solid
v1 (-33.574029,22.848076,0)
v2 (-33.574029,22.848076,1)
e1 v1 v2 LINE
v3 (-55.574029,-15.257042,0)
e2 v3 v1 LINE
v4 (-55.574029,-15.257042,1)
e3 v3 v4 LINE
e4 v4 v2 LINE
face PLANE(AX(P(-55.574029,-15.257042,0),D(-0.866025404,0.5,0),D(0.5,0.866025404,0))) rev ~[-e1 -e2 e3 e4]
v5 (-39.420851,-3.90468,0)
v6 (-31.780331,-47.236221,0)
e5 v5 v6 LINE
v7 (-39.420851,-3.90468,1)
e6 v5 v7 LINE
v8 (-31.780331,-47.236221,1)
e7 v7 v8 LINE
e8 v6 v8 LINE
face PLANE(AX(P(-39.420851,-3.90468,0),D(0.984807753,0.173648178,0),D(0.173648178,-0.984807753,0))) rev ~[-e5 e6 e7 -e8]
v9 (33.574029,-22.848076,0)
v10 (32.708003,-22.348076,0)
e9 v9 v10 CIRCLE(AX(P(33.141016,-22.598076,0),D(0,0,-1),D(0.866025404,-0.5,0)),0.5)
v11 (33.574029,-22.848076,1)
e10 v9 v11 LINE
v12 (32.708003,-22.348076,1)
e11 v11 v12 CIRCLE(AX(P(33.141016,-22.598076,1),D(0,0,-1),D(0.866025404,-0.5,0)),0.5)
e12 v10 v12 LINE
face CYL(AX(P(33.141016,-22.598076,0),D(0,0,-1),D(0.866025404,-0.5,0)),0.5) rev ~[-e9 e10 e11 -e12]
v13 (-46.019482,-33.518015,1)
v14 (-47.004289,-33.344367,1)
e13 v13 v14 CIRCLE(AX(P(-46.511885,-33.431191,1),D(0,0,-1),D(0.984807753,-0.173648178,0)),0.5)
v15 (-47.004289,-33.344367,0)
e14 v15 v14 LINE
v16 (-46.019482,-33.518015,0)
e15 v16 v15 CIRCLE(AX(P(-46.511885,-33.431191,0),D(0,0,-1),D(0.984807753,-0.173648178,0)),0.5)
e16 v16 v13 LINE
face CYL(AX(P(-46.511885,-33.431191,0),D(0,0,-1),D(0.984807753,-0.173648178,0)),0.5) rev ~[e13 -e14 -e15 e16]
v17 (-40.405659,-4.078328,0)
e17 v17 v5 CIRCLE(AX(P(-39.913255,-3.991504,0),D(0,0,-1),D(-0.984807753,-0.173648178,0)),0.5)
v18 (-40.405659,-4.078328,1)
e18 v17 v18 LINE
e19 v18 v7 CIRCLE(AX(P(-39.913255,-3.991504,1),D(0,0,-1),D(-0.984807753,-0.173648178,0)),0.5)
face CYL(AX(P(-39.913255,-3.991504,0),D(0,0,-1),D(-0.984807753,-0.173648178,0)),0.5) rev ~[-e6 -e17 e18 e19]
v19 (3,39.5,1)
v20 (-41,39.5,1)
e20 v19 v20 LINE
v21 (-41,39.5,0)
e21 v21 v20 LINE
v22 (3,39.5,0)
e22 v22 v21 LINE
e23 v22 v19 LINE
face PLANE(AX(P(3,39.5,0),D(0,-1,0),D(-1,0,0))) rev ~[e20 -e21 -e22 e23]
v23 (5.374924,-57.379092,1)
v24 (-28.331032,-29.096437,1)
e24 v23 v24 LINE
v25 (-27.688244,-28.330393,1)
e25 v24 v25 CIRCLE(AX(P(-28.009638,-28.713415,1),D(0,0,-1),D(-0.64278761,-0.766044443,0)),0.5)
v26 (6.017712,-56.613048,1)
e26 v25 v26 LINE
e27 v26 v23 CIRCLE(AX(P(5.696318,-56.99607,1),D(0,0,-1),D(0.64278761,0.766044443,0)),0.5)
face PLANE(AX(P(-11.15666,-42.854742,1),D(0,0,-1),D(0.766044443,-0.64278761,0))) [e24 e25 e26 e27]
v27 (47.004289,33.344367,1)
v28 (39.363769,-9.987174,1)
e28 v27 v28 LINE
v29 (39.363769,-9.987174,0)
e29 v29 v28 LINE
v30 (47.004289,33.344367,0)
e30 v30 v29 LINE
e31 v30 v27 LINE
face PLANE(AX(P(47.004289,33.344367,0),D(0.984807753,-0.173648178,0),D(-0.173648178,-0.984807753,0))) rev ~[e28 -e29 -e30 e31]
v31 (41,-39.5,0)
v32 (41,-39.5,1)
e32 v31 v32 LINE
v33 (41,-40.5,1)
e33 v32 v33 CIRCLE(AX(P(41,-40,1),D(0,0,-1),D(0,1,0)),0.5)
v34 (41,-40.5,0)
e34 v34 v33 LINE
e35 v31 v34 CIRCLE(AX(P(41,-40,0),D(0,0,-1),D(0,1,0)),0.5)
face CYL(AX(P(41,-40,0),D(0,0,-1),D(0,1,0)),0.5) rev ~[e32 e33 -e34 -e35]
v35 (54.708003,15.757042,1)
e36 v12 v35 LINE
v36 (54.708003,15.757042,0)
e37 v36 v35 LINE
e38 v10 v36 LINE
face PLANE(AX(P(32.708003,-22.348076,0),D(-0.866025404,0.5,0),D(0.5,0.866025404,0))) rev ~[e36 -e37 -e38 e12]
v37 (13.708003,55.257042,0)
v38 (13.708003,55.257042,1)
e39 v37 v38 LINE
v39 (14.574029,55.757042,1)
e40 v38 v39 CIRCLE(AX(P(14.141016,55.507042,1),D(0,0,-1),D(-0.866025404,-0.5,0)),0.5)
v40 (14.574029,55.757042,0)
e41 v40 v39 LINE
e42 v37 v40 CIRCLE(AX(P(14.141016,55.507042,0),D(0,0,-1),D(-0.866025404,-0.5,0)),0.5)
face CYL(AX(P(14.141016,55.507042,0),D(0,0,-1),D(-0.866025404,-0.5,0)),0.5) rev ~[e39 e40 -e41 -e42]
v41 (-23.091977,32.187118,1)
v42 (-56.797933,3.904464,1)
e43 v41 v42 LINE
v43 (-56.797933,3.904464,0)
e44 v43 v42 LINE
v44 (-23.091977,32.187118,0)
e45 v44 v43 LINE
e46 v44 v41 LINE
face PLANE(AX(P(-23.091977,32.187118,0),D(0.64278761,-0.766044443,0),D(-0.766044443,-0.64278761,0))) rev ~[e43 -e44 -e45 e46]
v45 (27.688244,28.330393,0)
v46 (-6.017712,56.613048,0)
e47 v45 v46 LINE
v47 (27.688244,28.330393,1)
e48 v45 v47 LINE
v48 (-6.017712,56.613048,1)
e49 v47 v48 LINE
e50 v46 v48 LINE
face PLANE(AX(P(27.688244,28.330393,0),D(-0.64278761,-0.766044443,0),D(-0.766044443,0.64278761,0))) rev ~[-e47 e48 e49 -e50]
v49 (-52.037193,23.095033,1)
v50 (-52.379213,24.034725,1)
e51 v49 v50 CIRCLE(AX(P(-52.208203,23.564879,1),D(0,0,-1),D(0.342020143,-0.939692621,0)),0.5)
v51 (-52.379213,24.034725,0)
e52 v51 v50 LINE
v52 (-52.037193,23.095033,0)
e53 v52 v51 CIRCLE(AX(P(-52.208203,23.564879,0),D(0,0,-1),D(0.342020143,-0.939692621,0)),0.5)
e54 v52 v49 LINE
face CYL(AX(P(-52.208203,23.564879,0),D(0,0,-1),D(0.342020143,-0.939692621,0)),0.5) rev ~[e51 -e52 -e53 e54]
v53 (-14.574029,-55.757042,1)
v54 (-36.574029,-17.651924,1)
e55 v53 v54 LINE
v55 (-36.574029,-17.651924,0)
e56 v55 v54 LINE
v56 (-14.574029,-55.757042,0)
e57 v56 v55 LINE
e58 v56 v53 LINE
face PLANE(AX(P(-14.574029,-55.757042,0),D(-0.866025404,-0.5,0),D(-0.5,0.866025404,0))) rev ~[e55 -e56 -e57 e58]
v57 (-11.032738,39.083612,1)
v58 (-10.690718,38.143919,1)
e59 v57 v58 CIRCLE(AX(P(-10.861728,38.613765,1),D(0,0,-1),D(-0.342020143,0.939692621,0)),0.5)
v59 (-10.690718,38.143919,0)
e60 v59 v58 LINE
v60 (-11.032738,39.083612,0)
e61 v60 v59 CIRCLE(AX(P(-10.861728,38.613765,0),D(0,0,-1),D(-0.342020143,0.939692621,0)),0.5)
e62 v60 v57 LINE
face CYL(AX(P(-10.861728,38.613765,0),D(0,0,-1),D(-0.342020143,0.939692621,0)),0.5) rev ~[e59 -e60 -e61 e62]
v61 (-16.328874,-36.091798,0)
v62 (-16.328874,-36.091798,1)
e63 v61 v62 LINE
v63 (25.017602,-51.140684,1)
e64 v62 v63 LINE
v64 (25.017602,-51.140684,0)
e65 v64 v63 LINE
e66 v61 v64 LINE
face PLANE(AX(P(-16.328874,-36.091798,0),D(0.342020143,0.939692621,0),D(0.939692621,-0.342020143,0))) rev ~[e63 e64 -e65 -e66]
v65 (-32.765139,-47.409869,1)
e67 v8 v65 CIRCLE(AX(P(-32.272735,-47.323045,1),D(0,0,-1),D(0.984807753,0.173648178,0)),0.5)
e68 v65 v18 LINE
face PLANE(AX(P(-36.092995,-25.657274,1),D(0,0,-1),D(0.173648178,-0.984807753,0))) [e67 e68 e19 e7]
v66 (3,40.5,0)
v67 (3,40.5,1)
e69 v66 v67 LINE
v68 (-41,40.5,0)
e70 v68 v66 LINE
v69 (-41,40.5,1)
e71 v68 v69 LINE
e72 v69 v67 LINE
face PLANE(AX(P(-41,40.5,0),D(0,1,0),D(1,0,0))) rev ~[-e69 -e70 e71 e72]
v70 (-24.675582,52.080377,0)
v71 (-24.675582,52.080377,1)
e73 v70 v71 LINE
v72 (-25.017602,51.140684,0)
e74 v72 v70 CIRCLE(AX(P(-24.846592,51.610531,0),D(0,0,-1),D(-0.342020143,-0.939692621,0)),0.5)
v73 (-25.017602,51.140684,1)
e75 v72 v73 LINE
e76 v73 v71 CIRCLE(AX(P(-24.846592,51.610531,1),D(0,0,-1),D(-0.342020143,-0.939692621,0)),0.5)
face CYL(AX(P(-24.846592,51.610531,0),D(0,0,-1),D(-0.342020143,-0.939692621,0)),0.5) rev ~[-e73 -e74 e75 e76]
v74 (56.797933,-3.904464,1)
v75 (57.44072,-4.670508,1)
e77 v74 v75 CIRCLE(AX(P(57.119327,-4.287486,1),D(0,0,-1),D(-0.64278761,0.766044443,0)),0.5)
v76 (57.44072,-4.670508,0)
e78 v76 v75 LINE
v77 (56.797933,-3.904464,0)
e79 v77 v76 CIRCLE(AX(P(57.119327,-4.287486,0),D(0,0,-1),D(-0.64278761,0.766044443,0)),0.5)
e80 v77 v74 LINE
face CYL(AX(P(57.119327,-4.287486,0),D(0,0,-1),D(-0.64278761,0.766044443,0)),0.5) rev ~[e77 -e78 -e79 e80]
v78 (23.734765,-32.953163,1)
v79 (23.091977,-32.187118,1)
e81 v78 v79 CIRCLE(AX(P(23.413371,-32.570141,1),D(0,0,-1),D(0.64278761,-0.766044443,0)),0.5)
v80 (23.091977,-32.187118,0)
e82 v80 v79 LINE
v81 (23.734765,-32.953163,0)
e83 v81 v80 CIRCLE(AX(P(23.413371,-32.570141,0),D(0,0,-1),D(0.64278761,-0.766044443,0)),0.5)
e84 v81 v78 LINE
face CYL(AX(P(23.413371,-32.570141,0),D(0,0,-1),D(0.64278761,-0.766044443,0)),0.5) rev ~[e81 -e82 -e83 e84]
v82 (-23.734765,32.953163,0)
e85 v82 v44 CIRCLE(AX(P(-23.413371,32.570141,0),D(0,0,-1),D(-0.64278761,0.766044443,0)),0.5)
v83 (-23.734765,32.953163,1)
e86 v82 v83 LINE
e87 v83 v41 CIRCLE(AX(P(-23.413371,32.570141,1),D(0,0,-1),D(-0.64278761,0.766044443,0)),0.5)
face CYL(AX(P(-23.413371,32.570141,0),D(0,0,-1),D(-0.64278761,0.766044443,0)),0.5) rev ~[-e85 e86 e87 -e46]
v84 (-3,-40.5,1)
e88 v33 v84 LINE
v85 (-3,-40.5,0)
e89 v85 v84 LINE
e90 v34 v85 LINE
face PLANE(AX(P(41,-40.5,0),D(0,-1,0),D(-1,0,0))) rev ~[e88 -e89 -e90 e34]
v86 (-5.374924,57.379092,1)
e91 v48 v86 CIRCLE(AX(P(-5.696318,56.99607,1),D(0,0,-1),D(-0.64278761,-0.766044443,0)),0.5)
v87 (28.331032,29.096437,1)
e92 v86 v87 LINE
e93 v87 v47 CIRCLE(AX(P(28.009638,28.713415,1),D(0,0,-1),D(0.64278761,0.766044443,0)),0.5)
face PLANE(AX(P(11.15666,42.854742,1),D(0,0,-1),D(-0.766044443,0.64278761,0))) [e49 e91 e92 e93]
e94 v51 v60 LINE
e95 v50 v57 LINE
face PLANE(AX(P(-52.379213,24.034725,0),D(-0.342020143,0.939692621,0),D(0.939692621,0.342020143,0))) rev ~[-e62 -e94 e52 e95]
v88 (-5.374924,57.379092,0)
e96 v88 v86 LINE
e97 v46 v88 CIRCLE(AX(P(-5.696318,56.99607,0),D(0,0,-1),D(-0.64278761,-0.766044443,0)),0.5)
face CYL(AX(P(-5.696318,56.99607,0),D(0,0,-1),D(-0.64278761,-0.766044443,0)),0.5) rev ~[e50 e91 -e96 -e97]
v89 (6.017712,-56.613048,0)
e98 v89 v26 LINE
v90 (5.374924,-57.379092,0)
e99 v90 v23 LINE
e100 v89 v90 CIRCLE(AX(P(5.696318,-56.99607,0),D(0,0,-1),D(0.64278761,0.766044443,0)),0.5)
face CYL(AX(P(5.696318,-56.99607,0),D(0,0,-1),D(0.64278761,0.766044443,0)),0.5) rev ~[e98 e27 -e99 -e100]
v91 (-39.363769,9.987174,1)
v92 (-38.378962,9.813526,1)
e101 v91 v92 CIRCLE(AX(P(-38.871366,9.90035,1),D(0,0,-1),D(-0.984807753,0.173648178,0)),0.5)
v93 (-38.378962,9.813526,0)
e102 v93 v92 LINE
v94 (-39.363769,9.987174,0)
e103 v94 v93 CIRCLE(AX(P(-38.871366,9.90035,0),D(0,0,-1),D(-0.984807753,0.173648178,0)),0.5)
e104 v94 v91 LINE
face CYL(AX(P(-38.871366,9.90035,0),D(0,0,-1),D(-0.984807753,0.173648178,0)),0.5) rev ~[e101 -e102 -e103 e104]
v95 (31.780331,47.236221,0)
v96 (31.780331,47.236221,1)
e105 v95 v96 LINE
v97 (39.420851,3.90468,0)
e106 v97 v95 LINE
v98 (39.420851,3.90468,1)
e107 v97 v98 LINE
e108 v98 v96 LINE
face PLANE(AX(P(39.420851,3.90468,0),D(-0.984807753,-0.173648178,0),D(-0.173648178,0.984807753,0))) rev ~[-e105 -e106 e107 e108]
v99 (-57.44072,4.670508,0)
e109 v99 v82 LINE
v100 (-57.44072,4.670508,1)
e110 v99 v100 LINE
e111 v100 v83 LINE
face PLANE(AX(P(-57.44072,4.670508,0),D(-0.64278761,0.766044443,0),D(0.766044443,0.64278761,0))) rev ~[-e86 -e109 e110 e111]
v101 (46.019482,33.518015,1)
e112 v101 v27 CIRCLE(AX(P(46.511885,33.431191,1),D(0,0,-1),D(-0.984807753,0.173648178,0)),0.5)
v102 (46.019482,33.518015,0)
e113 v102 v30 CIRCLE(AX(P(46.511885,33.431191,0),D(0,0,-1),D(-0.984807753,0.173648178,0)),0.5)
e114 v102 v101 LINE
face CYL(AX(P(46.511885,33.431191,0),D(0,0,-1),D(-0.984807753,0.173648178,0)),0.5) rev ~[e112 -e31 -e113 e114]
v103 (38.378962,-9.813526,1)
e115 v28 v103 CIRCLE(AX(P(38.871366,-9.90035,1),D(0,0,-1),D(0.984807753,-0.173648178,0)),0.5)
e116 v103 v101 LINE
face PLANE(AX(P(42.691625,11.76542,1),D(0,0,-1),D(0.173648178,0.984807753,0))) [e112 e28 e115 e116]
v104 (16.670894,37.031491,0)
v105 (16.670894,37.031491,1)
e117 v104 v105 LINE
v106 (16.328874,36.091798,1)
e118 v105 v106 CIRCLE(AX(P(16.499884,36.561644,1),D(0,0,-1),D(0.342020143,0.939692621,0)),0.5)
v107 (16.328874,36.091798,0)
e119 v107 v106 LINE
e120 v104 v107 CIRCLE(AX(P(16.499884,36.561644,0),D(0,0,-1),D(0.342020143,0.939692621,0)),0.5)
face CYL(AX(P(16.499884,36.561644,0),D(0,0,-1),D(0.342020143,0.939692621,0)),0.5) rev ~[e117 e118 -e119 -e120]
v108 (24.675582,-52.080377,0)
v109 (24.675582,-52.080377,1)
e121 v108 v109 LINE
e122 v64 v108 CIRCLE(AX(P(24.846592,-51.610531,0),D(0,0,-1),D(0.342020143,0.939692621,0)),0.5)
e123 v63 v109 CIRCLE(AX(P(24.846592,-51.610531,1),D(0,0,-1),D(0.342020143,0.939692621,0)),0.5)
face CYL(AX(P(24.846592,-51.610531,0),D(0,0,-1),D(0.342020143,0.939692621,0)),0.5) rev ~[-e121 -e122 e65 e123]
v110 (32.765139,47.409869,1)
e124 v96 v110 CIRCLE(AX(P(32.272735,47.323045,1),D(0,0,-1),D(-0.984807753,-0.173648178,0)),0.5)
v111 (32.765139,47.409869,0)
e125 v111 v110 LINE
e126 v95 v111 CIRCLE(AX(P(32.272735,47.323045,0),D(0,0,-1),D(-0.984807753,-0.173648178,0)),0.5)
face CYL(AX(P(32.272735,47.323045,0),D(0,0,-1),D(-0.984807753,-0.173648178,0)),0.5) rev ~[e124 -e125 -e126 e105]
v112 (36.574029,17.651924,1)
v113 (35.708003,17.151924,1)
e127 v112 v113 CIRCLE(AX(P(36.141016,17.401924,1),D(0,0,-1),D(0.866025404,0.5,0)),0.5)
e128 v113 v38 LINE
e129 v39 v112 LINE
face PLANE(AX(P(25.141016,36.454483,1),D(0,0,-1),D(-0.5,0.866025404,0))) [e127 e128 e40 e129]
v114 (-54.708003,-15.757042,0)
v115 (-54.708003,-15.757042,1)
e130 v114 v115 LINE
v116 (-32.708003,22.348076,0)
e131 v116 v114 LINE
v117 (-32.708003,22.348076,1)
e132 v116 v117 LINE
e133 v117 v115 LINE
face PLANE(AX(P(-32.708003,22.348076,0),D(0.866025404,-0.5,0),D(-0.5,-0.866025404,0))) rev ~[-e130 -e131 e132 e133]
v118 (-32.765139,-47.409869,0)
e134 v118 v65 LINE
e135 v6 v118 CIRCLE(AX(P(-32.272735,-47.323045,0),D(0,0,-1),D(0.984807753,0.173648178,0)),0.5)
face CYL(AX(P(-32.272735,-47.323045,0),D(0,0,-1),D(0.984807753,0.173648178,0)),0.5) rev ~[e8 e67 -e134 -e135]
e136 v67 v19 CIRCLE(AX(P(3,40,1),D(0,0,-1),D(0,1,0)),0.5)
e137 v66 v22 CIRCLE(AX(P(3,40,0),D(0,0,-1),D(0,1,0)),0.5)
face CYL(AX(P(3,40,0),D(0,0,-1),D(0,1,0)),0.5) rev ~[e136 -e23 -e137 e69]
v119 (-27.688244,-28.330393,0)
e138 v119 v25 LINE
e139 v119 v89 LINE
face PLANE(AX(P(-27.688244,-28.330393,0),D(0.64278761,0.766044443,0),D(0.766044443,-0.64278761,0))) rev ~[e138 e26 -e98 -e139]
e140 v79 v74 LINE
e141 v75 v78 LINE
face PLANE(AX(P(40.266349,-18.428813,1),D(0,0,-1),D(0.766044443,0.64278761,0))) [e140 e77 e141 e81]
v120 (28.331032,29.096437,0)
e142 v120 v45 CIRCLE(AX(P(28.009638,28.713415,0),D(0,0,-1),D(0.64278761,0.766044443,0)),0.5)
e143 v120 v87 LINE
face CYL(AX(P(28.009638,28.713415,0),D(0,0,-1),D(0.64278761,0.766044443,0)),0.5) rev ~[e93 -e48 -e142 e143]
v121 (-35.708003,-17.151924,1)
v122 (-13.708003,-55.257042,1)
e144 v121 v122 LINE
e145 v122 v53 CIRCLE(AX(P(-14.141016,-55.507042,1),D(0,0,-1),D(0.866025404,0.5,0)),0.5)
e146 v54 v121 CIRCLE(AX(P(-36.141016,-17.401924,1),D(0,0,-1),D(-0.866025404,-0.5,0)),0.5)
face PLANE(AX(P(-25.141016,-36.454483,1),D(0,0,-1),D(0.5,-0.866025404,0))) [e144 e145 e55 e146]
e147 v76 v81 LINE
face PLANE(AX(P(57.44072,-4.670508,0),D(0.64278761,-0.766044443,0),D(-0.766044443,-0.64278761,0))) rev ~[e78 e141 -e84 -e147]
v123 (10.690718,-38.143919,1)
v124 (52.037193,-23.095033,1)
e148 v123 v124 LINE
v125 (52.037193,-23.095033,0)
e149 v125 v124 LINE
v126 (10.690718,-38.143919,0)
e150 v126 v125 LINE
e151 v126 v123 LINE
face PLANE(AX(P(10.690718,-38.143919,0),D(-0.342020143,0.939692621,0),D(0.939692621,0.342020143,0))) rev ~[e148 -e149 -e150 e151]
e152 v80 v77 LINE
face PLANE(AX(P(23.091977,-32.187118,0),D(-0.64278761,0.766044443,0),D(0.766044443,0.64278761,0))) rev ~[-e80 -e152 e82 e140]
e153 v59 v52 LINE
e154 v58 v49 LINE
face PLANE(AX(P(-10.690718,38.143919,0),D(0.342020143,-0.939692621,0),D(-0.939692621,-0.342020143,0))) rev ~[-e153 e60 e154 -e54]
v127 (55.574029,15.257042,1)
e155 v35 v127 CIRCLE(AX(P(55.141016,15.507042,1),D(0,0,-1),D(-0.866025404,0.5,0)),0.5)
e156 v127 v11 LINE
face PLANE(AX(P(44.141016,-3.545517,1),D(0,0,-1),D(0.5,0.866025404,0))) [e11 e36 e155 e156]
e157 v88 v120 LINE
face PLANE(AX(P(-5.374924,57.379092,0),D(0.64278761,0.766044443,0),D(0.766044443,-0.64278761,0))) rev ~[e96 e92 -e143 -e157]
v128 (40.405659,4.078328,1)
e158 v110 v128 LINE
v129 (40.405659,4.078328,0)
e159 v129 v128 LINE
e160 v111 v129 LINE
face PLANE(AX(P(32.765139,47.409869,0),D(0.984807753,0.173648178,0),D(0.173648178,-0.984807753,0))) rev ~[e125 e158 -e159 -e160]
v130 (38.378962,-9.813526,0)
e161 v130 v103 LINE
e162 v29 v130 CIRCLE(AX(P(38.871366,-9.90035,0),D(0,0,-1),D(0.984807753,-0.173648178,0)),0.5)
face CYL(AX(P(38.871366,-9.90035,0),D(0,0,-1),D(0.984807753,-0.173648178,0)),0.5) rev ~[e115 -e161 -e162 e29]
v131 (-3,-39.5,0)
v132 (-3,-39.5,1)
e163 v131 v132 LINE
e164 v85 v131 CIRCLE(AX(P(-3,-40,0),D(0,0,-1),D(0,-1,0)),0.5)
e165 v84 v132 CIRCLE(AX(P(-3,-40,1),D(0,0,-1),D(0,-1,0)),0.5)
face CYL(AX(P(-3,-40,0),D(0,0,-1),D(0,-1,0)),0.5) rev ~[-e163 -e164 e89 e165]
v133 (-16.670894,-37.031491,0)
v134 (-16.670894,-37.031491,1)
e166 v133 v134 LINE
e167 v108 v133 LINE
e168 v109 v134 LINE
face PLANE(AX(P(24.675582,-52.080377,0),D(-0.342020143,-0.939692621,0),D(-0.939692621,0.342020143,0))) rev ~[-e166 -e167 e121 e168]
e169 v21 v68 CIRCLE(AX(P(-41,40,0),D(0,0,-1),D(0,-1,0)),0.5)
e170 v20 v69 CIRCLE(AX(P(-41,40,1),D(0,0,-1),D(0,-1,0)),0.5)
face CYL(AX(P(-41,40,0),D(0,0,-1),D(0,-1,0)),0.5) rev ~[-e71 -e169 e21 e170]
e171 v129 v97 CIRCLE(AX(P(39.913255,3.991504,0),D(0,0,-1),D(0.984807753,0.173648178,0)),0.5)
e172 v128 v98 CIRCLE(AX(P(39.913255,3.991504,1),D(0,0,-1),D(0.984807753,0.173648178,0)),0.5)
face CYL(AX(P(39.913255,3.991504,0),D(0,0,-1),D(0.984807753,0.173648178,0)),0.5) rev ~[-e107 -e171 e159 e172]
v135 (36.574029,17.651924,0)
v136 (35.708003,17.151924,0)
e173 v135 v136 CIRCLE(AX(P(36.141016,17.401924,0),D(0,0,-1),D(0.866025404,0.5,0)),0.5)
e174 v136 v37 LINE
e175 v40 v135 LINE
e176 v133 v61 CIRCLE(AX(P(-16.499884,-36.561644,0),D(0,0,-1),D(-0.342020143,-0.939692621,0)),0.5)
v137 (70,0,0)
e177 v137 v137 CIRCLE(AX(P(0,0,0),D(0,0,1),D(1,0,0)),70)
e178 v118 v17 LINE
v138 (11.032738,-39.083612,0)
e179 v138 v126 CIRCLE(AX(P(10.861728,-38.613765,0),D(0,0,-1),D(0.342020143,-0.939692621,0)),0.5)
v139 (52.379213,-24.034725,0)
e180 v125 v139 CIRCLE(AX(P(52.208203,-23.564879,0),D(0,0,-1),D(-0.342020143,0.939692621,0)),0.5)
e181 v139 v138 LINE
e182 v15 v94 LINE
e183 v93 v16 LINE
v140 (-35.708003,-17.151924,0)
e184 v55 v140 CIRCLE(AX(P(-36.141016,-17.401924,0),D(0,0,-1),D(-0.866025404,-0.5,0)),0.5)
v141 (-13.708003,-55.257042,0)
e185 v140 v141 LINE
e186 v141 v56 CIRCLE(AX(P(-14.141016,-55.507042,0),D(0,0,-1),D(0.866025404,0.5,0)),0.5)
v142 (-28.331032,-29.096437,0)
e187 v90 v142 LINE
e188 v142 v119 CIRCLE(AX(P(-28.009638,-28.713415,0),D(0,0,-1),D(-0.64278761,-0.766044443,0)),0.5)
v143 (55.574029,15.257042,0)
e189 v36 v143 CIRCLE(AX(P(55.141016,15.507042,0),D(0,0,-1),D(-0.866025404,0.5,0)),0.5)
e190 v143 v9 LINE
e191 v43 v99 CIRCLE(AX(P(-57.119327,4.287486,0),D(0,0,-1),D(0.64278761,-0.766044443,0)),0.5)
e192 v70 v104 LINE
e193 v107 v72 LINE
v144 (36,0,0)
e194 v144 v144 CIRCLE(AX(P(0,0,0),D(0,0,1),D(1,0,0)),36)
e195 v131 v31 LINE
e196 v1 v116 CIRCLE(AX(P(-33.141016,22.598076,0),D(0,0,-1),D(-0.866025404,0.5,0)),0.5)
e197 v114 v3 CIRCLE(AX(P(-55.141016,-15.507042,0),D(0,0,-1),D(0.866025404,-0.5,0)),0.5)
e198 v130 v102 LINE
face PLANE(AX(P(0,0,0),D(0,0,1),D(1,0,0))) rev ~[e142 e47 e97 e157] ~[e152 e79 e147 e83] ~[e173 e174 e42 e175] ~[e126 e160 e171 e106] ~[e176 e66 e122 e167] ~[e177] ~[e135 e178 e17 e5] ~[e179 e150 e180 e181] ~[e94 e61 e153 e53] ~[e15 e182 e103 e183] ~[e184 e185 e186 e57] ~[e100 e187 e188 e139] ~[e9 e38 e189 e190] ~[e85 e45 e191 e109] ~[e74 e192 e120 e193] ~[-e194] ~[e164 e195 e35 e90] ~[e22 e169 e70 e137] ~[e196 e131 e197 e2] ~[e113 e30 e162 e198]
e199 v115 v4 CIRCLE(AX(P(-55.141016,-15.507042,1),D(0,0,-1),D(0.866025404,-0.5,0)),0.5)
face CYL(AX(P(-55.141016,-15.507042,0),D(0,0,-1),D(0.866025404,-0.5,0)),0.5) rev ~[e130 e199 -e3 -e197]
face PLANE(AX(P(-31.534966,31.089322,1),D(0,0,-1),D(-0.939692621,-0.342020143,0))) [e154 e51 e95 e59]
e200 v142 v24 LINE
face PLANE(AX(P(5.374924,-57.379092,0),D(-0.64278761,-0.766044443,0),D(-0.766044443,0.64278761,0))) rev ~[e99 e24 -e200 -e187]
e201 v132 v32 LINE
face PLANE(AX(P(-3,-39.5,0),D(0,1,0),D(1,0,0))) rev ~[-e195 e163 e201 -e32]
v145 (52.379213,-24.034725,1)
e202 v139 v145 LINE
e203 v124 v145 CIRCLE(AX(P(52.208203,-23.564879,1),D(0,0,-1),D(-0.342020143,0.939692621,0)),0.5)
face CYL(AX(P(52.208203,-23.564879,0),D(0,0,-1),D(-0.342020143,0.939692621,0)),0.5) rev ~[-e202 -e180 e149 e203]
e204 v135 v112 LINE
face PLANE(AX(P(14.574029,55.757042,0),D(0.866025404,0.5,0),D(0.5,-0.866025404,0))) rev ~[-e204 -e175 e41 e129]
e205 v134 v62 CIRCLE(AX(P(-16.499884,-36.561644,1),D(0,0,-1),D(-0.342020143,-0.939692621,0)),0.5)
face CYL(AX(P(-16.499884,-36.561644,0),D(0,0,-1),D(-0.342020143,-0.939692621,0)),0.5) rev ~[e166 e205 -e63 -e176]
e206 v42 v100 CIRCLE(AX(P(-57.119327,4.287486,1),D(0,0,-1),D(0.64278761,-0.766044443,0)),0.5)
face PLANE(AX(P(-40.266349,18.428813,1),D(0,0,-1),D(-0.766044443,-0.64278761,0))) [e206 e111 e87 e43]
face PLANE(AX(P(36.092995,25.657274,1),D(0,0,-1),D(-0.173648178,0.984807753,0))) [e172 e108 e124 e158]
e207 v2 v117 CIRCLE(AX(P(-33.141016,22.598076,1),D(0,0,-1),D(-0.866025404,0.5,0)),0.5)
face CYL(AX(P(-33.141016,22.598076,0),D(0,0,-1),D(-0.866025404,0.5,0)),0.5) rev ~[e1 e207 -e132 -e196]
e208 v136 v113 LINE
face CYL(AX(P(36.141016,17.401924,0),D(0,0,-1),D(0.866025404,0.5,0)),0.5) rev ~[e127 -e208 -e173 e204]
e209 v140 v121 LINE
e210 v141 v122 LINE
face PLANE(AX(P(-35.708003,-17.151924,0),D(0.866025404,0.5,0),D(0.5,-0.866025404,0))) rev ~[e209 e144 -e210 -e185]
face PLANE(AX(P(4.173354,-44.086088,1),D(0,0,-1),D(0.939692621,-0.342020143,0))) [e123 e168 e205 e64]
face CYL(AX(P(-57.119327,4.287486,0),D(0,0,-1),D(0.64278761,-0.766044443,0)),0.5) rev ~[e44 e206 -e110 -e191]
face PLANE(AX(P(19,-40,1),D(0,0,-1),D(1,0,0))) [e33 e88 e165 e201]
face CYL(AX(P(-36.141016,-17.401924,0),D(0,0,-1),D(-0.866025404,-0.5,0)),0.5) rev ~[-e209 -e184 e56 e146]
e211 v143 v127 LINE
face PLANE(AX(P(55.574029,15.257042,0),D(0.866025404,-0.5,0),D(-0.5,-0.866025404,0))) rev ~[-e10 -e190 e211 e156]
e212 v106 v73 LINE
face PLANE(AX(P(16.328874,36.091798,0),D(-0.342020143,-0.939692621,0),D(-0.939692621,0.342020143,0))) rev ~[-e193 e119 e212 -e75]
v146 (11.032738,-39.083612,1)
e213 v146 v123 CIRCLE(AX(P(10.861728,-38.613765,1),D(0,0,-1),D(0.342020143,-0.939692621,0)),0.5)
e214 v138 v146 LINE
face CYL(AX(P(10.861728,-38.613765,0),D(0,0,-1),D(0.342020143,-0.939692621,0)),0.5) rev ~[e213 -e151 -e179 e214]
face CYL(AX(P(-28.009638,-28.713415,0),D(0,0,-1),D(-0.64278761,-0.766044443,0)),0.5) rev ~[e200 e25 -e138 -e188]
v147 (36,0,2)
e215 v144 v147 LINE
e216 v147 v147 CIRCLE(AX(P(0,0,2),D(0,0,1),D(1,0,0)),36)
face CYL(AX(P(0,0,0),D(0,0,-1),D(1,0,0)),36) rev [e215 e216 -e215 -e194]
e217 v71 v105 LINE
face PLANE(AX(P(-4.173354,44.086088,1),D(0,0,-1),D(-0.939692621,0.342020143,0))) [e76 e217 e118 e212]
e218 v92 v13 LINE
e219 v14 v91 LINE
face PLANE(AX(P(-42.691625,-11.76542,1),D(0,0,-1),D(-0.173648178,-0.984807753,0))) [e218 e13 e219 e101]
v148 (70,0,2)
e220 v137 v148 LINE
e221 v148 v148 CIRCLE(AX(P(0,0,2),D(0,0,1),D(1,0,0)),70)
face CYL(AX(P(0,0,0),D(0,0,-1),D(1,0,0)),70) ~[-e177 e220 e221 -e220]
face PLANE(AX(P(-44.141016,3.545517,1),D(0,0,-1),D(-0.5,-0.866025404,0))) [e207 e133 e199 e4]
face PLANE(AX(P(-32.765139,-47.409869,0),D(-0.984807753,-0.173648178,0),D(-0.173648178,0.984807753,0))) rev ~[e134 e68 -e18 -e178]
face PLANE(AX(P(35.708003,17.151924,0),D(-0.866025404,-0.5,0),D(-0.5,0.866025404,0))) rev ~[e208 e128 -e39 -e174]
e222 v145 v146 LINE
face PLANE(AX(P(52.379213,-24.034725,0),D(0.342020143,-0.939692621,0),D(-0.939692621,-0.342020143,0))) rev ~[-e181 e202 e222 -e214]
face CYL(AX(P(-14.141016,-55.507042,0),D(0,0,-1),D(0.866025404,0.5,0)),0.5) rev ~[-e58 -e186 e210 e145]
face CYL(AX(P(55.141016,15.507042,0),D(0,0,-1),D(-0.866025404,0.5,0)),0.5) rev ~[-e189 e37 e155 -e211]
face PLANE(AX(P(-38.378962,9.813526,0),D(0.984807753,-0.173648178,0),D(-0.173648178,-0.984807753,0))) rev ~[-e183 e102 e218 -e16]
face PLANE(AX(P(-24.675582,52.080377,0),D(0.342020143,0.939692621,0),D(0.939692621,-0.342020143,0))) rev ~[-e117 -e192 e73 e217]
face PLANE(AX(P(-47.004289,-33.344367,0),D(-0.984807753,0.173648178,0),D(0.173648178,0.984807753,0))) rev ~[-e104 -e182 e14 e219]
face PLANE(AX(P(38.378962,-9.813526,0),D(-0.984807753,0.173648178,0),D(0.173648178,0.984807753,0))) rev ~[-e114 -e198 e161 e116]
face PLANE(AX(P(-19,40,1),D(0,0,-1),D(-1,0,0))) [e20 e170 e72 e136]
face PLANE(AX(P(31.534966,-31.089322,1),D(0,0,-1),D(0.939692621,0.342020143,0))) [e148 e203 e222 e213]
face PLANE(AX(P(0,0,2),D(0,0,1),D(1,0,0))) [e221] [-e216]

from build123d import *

# Parameters (mm, degrees)
SKETCH1_R           = 70
SKETCH1_R_2         = 36
BOSS_EXTRUDE1_DEPTH = 2
CUT_EXTRUDE1_DEPTH  = 1
CIRPATTERN1_COUNT   = 18


with BuildPart() as part:
    # Sketch1 → Boss-Extrude1 (new body)
    with BuildSketch(Plane.XY):
        Circle(SKETCH1_R)
        Circle(SKETCH1_R_2, mode=Mode.SUBTRACT)
    extrude(amount=BOSS_EXTRUDE1_DEPTH)

    # Sketch2 → Cut-Extrude1 (cut)
    with BuildSketch(Plane.XY):
        with BuildLine():
            Line((-41, 40.5), (3, 40.5))
            ThreePointArc((3, 40.5), (3.5, 40), (3, 39.5))
            Line((3, 39.5), (-41, 39.5))
            ThreePointArc((-41, 39.5), (-41.5, 40), (-41, 40.5))
        make_face()
    cut_extrude1 = extrude(amount=CUT_EXTRUDE1_DEPTH, mode=Mode.SUBTRACT)

    # CirPattern1: Cut-Extrude1 ×18 about axis
    cirpattern1_axis = Axis((0, 0, 0), (0, 0, 1))
    for i in range(1, CIRPATTERN1_COUNT):
        add(cut_extrude1.rotate(cirpattern1_axis, i * 360 / CIRPATTERN1_COUNT), mode=Mode.SUBTRACT)


solid = part.part
